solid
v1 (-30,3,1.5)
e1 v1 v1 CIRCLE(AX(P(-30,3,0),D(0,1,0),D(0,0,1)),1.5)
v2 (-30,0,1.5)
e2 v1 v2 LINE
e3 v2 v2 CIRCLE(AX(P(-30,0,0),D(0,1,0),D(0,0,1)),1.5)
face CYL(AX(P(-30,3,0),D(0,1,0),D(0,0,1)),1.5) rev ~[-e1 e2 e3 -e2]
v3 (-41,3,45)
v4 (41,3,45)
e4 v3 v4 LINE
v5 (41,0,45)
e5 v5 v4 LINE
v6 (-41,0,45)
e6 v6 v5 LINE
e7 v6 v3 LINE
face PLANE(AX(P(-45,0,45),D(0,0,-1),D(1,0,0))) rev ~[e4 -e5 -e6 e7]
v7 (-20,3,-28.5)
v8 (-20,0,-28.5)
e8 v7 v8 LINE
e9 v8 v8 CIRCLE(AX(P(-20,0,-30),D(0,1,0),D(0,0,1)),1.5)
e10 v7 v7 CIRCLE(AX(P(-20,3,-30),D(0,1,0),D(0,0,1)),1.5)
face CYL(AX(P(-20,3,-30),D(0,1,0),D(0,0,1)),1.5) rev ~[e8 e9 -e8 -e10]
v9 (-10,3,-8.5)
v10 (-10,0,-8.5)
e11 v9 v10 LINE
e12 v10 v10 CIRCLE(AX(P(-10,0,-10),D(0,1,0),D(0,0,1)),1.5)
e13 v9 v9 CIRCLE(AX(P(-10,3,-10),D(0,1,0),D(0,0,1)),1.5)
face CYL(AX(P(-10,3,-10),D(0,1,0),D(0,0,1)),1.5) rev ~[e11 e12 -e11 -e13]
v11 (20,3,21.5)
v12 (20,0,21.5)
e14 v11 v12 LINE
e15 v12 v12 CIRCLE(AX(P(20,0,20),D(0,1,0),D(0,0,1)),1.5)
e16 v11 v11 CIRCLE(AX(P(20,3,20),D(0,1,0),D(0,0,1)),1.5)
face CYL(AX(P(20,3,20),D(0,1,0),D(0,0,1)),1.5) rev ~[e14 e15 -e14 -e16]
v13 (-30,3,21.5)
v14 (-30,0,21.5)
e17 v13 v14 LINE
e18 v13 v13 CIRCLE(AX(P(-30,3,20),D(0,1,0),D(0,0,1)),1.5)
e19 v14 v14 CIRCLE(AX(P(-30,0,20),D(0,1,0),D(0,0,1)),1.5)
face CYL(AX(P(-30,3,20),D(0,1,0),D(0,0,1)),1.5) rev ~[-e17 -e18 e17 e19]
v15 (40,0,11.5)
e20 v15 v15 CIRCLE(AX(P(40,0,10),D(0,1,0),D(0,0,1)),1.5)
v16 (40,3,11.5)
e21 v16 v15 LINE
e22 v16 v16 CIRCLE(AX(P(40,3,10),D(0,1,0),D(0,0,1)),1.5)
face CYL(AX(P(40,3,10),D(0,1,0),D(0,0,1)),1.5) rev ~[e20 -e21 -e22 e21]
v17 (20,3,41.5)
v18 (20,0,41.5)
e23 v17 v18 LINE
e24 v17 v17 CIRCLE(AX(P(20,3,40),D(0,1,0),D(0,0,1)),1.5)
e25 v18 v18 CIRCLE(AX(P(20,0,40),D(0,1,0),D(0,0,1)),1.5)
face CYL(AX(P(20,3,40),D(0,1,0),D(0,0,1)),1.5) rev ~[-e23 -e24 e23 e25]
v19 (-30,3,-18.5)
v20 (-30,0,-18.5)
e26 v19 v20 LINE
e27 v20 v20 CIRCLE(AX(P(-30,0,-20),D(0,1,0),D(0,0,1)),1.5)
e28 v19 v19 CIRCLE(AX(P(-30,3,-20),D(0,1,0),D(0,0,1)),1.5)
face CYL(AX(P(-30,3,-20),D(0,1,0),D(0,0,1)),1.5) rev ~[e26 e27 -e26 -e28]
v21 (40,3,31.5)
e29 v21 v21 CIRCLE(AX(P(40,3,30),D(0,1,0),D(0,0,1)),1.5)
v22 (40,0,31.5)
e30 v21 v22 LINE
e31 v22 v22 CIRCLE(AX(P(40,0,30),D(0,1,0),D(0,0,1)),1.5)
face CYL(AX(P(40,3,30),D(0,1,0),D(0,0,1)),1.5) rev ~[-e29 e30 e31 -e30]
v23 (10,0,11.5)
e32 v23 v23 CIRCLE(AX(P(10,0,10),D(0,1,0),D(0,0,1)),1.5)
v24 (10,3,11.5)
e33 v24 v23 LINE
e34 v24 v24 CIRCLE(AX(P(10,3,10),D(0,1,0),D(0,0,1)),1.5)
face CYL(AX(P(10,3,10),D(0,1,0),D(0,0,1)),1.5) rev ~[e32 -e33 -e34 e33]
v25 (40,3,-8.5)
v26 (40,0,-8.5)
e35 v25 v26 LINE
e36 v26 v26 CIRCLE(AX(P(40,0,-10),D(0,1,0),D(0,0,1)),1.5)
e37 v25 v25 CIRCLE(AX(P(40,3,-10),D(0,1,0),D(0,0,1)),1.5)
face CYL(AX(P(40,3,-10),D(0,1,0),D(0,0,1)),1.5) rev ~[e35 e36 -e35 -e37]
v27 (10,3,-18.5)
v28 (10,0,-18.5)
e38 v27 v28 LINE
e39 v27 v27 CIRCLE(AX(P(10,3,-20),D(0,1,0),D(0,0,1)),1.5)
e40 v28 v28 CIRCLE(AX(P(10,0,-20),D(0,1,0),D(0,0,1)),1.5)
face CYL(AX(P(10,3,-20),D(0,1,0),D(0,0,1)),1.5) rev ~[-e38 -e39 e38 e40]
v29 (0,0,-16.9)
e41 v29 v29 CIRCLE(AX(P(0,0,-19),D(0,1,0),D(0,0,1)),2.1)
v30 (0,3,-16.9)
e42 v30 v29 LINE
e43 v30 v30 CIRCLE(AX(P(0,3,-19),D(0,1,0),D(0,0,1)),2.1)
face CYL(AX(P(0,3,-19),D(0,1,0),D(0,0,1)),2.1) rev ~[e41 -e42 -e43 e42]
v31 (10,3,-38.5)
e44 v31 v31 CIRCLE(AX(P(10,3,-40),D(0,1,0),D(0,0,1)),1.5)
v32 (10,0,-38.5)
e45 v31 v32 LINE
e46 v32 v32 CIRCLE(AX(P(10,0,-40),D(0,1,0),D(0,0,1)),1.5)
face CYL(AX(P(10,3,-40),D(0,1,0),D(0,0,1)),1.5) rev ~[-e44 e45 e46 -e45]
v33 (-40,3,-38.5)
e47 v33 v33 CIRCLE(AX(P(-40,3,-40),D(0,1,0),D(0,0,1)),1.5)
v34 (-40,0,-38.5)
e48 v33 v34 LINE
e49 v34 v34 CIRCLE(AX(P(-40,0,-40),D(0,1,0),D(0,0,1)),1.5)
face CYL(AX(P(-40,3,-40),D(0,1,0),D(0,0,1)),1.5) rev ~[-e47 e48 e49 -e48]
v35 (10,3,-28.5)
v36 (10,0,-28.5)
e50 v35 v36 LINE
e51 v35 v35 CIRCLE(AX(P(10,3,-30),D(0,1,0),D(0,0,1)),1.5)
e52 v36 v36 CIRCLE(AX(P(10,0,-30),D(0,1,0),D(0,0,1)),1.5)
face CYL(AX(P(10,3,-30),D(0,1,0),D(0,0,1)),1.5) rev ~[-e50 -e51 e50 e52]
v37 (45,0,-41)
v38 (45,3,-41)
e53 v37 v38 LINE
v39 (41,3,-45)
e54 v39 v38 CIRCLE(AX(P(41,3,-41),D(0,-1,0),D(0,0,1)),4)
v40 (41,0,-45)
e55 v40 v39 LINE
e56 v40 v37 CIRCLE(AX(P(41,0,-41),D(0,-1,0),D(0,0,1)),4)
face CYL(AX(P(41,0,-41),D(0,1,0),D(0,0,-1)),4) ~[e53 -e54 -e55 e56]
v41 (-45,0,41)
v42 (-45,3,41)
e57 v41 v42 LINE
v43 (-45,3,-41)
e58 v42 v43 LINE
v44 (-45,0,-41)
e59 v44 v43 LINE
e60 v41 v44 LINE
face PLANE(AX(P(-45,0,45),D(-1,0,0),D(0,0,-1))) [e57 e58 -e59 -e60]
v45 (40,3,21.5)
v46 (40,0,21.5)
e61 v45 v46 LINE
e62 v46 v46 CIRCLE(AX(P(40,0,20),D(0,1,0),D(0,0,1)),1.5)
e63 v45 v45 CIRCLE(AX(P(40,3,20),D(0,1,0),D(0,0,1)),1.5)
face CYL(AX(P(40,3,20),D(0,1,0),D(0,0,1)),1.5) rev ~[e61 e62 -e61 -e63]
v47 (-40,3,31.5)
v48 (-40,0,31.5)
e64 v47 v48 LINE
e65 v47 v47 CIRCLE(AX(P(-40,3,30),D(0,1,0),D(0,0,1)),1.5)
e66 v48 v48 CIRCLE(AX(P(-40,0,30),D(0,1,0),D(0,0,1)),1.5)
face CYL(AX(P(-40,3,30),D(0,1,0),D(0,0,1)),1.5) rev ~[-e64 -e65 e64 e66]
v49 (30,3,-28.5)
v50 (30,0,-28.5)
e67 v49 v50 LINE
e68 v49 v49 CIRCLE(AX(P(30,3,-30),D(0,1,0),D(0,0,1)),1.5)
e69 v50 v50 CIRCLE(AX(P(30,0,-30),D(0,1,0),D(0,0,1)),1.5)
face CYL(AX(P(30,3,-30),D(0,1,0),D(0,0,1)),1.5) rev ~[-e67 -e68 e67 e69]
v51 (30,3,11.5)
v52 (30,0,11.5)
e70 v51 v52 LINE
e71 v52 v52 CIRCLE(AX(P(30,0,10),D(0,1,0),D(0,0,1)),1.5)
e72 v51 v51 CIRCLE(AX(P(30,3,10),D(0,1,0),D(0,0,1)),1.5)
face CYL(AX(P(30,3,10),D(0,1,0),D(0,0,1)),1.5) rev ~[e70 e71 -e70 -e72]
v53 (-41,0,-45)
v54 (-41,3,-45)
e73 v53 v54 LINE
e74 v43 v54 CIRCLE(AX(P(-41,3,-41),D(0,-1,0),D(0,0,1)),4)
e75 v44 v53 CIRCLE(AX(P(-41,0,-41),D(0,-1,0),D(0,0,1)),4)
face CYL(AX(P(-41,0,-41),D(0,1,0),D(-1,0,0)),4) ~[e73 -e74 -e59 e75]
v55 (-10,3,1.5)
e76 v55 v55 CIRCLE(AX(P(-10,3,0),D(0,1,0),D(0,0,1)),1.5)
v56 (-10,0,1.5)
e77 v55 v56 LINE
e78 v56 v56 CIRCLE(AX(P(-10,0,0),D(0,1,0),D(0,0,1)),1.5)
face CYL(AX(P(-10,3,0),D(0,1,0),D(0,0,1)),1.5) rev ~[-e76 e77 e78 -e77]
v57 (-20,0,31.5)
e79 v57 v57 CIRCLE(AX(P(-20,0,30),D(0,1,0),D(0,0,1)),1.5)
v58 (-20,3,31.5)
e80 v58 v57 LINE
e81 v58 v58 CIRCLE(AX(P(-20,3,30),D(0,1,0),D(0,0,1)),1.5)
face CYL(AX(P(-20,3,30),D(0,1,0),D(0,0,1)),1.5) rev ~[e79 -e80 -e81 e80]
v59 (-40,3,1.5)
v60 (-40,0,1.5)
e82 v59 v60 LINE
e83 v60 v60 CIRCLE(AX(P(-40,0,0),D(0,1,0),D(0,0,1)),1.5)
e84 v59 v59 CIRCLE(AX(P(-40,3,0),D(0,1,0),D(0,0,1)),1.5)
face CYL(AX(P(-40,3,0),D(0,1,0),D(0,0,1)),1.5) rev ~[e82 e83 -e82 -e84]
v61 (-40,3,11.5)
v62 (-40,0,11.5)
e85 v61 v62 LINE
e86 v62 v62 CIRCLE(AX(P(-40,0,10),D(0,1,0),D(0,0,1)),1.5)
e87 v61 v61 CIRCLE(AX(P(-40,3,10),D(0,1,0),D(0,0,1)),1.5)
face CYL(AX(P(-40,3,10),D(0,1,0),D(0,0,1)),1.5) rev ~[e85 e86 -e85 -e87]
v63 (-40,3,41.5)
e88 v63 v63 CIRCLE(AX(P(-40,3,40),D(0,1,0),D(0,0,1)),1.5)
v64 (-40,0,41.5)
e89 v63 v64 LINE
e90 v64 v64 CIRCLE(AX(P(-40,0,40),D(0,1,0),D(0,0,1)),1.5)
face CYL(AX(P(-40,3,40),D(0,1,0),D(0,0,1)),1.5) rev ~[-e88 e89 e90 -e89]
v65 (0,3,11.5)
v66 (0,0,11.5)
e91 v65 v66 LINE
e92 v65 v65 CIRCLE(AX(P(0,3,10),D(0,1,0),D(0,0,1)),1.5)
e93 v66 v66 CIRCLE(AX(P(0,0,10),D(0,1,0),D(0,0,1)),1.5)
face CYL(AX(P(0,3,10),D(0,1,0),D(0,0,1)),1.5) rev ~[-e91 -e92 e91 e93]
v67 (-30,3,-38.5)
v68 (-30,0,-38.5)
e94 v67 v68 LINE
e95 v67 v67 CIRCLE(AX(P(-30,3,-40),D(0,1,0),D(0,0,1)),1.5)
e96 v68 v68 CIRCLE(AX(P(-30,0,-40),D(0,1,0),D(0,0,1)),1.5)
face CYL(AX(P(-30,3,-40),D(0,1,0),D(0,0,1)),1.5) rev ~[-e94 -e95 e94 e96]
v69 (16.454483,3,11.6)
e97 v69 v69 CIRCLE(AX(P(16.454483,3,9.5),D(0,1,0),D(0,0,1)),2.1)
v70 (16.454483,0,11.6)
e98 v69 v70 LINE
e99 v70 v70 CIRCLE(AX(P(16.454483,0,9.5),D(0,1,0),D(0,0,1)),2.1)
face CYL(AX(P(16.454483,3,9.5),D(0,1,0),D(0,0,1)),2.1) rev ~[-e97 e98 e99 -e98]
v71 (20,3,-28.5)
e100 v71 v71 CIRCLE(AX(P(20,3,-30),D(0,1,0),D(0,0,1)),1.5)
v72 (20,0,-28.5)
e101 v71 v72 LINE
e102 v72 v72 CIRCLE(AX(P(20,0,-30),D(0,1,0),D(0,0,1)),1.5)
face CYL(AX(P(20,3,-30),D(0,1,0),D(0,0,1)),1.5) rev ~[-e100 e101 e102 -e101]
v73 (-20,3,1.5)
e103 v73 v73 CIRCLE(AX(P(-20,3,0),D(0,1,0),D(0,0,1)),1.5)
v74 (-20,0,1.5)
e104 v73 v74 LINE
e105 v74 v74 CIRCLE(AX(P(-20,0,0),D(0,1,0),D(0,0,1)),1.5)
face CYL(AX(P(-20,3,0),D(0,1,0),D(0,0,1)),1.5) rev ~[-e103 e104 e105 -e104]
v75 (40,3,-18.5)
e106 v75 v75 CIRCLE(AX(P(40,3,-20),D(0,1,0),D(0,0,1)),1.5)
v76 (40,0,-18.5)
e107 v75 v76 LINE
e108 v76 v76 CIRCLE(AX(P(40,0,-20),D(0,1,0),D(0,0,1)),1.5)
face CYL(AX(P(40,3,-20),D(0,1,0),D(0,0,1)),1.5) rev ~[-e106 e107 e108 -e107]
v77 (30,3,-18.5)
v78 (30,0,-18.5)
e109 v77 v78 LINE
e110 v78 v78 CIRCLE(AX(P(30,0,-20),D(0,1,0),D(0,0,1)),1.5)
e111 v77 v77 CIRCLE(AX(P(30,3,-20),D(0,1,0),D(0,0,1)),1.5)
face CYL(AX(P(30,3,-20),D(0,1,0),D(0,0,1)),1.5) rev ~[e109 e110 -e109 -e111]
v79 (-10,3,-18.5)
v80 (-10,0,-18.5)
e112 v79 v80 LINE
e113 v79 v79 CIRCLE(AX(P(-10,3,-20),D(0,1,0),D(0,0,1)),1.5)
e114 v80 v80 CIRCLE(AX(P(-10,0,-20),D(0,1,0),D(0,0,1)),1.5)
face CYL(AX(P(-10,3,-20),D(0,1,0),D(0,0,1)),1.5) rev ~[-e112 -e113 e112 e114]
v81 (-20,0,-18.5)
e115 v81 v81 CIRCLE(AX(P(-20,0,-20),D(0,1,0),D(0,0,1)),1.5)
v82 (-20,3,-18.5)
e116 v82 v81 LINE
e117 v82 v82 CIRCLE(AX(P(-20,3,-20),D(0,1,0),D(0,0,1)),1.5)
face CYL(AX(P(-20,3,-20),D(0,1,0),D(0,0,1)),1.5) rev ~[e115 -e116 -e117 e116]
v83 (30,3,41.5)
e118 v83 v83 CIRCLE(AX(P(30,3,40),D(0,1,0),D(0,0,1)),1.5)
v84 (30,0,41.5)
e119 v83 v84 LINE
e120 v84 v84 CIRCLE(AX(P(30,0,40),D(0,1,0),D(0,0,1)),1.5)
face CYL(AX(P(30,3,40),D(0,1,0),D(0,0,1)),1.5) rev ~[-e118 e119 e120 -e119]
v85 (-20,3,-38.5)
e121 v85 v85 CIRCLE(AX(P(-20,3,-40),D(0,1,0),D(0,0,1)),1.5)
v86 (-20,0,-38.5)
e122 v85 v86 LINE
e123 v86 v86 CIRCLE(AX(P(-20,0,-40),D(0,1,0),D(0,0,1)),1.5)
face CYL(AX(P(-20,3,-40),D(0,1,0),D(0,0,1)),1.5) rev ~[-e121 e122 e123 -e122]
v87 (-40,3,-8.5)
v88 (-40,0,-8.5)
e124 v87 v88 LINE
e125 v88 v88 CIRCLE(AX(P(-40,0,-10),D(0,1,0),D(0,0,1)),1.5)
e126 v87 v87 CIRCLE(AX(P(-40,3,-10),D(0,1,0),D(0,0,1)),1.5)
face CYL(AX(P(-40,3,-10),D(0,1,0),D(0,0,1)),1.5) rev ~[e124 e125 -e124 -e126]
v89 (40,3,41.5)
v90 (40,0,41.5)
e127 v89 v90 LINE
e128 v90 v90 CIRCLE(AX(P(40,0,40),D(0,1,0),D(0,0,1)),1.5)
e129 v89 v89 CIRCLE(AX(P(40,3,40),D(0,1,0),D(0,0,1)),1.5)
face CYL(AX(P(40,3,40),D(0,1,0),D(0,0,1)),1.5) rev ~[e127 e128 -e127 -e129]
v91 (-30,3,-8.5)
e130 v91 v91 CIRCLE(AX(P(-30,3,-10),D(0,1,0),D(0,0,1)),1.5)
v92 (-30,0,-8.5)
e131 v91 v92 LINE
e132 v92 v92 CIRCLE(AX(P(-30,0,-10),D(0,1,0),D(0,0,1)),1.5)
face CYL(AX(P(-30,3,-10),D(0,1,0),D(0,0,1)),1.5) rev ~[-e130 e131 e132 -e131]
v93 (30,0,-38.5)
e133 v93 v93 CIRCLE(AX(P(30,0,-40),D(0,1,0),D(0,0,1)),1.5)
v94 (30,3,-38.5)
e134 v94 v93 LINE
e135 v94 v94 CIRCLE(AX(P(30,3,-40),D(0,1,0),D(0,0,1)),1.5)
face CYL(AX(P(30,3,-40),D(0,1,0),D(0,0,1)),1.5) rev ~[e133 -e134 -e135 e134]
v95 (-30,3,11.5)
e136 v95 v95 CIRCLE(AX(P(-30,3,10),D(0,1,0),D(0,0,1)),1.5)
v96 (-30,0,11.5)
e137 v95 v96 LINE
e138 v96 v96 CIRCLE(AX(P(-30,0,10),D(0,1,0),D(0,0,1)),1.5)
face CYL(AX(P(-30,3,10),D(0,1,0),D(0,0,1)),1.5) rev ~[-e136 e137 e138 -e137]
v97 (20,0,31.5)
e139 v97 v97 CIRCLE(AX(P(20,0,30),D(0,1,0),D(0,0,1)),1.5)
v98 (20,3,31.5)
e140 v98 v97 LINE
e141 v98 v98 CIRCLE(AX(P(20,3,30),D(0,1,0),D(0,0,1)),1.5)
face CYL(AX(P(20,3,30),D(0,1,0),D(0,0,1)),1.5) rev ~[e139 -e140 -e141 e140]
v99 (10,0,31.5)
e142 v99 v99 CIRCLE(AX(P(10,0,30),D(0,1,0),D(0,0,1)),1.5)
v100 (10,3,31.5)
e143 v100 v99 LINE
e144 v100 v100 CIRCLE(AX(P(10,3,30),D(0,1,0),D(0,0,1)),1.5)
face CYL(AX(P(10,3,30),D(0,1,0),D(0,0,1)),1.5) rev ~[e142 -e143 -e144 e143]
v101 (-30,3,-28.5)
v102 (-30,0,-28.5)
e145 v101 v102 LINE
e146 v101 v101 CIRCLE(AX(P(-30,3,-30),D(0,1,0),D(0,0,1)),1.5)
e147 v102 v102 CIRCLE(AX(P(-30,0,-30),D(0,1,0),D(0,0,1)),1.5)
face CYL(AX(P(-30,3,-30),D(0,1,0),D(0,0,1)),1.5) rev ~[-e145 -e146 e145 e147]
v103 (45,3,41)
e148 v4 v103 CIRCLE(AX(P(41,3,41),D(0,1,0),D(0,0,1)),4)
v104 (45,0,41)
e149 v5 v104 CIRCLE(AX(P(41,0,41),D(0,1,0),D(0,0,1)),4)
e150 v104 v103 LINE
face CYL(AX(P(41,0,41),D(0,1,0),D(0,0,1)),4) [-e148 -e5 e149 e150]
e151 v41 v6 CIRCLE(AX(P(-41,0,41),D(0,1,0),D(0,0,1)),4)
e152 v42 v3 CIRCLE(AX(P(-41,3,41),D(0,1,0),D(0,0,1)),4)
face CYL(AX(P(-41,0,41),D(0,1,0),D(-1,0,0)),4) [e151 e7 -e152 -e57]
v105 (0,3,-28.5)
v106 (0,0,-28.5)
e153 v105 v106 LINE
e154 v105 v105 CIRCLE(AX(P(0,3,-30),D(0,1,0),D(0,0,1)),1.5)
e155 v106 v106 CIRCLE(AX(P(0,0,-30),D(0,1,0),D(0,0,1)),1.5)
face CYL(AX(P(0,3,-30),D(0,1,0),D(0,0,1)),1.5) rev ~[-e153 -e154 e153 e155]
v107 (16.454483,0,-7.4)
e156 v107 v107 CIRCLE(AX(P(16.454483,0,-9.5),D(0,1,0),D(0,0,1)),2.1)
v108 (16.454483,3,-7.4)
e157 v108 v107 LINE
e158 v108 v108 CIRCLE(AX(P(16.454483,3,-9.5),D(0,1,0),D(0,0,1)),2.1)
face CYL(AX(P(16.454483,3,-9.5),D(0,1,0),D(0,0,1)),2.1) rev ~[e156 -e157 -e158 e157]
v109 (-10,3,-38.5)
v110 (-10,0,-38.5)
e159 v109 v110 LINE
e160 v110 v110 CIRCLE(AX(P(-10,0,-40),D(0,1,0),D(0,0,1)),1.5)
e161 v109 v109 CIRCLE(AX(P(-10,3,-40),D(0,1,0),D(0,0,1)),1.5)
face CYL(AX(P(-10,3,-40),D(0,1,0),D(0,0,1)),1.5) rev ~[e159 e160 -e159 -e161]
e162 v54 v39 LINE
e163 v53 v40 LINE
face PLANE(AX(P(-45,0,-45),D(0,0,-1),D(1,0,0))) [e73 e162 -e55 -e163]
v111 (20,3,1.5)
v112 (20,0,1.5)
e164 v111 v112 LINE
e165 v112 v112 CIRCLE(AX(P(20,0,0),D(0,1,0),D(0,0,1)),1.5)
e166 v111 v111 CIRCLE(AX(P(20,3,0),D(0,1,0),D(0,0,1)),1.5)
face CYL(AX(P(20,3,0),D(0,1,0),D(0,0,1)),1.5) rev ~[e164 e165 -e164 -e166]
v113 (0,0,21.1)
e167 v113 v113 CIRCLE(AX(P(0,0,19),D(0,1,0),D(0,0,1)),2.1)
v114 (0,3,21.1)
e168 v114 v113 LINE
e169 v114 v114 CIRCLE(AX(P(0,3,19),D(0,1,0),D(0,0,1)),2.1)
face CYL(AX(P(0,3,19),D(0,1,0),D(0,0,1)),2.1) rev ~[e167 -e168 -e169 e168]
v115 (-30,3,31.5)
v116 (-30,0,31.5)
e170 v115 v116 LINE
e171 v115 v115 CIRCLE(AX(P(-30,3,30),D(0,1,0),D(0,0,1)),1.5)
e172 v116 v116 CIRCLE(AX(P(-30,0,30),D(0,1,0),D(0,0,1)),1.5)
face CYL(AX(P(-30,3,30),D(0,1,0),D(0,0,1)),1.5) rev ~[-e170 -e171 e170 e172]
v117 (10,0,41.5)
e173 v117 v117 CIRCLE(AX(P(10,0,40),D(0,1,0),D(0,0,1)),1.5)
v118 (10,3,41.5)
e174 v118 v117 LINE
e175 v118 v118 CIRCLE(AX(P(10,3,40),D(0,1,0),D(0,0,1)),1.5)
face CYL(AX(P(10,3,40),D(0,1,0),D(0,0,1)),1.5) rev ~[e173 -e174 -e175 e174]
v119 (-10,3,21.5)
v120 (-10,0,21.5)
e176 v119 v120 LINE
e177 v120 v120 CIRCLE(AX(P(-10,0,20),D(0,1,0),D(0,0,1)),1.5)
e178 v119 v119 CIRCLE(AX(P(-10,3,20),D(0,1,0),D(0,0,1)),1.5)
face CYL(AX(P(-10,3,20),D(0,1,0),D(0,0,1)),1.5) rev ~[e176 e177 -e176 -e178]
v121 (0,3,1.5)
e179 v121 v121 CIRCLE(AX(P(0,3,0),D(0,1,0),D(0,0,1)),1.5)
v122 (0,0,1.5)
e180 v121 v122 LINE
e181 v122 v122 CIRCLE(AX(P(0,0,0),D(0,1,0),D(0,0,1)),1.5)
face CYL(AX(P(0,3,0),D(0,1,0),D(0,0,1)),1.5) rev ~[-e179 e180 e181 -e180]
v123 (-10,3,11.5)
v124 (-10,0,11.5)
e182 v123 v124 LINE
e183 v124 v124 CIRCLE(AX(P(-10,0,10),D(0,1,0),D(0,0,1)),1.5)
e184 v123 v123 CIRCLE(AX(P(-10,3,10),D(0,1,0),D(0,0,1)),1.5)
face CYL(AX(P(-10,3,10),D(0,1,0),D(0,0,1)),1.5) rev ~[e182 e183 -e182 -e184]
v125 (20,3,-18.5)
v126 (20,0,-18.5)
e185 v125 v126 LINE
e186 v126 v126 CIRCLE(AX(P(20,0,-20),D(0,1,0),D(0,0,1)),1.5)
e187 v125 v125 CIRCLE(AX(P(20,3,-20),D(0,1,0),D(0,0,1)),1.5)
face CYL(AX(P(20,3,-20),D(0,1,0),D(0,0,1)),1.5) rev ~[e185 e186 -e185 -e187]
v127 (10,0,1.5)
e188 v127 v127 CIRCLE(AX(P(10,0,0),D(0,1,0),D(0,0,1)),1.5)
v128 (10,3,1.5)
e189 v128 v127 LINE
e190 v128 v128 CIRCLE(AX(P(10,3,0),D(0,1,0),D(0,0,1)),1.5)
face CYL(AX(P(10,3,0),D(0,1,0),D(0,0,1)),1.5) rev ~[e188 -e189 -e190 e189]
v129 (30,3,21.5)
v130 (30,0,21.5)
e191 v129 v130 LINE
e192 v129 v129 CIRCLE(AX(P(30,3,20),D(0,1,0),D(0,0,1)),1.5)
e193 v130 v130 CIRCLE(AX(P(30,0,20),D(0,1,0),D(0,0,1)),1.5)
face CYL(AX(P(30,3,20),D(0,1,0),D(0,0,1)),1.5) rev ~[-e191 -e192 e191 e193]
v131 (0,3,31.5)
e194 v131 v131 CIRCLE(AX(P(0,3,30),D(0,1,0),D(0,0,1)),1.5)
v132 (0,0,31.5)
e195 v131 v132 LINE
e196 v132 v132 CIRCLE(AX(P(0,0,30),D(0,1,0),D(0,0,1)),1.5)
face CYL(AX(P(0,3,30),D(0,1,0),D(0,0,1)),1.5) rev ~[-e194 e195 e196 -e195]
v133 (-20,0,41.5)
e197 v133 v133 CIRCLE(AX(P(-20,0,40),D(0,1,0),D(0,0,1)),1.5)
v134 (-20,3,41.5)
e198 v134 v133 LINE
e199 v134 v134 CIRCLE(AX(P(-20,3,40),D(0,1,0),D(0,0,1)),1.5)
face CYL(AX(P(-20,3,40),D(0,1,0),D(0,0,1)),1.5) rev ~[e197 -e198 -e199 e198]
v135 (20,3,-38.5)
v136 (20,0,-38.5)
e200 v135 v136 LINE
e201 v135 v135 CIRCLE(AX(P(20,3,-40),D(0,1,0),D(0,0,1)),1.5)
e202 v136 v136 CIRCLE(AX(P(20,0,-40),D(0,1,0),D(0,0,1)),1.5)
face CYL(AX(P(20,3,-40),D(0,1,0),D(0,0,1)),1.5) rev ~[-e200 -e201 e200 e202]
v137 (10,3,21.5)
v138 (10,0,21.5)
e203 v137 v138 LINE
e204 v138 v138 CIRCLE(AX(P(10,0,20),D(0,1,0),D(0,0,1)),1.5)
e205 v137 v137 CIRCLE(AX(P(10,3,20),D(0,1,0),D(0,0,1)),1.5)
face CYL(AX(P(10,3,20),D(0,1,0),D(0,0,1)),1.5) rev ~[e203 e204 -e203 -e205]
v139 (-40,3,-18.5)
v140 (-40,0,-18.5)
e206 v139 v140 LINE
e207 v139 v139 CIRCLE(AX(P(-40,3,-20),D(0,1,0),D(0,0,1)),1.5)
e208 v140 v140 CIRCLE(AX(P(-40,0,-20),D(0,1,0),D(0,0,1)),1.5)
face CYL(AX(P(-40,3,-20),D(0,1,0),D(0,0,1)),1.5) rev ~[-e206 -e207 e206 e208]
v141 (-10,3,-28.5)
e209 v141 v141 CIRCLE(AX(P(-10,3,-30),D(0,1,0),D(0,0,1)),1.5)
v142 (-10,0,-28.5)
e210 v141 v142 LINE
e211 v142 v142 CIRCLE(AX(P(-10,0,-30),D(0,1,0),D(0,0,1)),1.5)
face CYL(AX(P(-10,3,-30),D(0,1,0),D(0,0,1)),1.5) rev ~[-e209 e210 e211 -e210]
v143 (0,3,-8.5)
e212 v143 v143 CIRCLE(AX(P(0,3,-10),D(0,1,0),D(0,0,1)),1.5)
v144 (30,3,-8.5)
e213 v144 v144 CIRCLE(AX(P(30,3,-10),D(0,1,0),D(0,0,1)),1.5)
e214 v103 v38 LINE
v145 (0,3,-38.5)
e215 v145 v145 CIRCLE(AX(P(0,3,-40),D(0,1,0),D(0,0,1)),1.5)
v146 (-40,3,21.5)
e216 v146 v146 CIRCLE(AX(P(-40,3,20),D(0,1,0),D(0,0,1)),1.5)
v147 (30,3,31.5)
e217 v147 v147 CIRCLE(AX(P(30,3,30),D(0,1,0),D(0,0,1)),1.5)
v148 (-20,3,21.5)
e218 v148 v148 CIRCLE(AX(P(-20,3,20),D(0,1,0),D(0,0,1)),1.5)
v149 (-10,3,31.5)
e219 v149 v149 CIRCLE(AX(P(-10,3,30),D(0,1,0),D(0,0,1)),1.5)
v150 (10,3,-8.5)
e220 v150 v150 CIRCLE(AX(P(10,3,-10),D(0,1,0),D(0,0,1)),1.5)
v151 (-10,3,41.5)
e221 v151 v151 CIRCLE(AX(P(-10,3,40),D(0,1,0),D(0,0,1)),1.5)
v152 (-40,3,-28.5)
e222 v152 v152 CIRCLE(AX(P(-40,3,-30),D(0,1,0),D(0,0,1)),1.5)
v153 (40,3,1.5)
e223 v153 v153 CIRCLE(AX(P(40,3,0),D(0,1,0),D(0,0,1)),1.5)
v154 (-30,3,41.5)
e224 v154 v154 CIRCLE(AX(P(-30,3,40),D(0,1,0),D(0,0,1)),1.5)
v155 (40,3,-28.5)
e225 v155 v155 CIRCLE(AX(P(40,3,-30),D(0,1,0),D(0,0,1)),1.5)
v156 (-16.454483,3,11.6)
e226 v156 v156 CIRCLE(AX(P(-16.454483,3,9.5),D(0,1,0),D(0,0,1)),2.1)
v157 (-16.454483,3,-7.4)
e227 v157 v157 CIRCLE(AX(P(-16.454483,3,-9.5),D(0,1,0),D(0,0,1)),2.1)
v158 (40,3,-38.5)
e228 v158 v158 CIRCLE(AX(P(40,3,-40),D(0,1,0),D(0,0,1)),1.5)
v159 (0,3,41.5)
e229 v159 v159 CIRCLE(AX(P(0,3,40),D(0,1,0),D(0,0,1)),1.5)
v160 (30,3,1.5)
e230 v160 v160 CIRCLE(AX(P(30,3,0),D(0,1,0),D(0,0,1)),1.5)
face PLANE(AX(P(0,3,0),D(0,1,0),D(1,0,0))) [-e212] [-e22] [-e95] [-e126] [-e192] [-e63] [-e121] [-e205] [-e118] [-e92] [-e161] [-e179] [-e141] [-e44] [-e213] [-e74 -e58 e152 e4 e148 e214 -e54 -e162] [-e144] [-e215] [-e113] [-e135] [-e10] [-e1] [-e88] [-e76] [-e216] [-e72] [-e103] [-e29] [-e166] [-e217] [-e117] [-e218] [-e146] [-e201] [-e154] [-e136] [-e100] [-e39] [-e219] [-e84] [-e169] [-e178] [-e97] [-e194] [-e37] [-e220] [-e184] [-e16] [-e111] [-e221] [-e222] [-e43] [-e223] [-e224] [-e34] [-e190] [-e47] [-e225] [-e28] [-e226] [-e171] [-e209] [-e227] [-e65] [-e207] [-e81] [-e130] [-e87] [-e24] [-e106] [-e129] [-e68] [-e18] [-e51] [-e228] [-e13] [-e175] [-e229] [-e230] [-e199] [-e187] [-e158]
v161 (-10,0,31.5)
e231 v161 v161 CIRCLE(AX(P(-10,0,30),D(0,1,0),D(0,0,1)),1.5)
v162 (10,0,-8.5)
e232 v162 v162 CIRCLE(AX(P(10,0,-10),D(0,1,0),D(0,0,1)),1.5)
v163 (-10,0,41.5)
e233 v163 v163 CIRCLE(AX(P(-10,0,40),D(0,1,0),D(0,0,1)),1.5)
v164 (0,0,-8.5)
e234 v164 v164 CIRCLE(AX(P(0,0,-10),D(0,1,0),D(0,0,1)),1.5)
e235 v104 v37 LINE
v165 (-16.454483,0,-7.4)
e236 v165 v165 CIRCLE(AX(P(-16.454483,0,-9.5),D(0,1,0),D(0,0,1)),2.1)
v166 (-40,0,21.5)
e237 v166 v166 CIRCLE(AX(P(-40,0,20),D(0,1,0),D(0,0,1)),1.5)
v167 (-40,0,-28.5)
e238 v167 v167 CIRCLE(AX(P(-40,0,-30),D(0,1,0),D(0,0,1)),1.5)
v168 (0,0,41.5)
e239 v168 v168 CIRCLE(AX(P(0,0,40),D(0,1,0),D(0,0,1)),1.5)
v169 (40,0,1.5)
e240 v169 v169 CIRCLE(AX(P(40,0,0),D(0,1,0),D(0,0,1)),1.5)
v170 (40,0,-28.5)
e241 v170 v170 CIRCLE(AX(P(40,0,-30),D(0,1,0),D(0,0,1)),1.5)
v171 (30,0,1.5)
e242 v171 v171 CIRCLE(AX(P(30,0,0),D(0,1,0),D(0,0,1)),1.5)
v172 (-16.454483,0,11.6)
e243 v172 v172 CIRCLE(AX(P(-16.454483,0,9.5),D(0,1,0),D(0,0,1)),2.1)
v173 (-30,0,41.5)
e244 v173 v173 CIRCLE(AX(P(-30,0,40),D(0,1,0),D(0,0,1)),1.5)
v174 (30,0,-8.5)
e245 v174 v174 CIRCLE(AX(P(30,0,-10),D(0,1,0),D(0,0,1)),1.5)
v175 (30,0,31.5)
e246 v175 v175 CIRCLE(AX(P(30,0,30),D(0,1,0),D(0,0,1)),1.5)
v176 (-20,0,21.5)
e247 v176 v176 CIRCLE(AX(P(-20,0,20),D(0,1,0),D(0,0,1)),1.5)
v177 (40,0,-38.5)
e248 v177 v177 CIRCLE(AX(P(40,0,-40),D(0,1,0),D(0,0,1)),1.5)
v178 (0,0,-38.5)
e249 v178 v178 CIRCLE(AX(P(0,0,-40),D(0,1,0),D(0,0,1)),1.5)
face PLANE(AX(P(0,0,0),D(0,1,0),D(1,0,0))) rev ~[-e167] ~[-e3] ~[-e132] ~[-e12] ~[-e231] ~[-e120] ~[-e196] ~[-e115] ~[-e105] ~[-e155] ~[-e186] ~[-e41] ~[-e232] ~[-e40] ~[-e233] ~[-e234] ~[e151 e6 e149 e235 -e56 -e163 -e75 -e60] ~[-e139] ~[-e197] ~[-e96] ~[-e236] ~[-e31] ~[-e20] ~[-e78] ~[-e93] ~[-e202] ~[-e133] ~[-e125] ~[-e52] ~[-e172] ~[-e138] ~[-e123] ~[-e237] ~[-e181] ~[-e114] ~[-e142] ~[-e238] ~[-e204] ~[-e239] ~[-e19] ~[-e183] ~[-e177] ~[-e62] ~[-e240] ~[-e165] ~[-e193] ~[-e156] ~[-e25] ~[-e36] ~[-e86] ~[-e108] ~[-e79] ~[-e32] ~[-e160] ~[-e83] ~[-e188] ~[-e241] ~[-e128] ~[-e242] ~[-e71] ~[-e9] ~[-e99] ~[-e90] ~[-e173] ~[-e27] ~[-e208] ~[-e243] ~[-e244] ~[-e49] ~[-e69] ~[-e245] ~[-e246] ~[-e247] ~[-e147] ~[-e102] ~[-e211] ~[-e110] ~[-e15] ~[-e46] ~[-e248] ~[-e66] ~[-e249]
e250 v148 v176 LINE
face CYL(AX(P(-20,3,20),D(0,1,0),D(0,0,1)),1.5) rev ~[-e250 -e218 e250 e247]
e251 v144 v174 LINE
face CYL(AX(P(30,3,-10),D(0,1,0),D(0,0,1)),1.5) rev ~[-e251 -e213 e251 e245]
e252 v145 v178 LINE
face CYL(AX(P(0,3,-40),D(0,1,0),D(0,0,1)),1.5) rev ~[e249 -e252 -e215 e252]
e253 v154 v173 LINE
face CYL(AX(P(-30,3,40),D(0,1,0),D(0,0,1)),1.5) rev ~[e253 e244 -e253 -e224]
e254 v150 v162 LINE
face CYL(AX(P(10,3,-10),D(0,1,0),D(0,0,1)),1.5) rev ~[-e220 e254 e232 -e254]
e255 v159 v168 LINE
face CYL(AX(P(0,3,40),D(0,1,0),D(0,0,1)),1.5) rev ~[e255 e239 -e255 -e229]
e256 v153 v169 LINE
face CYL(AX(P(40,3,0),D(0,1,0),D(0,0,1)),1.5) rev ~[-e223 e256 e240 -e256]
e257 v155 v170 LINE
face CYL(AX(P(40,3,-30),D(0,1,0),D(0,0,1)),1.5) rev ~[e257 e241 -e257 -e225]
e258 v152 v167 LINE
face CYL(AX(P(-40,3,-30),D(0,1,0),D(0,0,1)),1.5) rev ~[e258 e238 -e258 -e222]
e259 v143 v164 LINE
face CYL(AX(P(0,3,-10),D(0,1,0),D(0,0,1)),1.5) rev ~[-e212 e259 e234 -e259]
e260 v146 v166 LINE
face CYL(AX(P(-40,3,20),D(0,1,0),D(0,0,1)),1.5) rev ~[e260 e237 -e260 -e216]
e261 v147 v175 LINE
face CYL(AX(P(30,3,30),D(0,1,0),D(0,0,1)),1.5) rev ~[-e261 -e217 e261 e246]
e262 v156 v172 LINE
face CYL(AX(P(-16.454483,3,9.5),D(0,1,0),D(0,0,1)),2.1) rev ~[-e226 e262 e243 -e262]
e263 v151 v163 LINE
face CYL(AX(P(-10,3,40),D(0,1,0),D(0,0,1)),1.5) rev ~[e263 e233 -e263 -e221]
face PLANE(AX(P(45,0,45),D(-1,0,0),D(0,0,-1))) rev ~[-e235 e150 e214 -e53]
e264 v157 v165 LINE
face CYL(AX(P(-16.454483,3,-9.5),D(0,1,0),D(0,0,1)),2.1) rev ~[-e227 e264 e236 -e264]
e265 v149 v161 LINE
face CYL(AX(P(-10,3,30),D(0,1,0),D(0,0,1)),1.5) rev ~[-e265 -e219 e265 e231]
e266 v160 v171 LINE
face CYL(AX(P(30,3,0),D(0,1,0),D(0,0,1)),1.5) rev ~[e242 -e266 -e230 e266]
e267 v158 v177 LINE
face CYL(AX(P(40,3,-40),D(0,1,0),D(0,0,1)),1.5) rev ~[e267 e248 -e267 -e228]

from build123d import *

# Parameters (mm, degrees)
SKETCH_1_W          = 90
SKETCH_1_H          = 90
EXTRUDE_1_DEPTH     = 3
SKETCH_2_R          = 1.5
CUT_EXTRUDE_1_DEPTH = 64.710281745
SKETCH_3_R          = 1.5
CUT_EXTRUDE_2_DEPTH = 64.710281745
SKETCH_5_R          = 1.5
CUT_EXTRUDE_3_DEPTH = 64.710281745
FILLET_1_R          = 4
SKETCH_6_R          = 2.1
CUT_EXTRUDE_5_DEPTH = 64.710281745


with BuildPart() as part:
    # 草图1 → 凸台-拉伸1 (new body)
    with BuildSketch(Plane(origin=(0, 0, 0), x_dir=(1, 0, 0), z_dir=(0, 1, 0))):
        Rectangle(SKETCH_1_W, SKETCH_1_H)
    extrude(amount=EXTRUDE_1_DEPTH)

    # 草图2 → 切除-拉伸1 (cut, through all)
    with BuildSketch(Plane(origin=(0, 3, 0), x_dir=(1, 0, 0), z_dir=(0, 1, 0))):
        with Locations(Location((-40, 40, 0), (0, 0, 270))):
            Circle(SKETCH_2_R)
        with Locations(Location((40, 40, 0), (0, 0, 270))):
            Circle(SKETCH_2_R)
        with Locations(Location((40, -40, 0), (0, 0, 270))):
            Circle(SKETCH_2_R)
        with Locations(Location((-40, -40, 0), (0, 0, 270))):
            Circle(SKETCH_2_R)
    extrude(amount=-CUT_EXTRUDE_1_DEPTH, mode=Mode.SUBTRACT)

    # 草图3 → 切除-拉伸2 (cut, through all)
    with BuildSketch(Plane(origin=(0, 3, 0), x_dir=(1, 0, 0), z_dir=(0, 1, 0))):
        with Locations(Location((0, 0, 0), (0, 0, 270))):
            Circle(SKETCH_3_R)
        with Locations(Location((10, 0, 0), (0, 0, 270))):
            Circle(SKETCH_3_R)
        with Locations(Location((20, 0, 0), (0, 0, 270))):
            Circle(SKETCH_3_R)
        with Locations(Location((30, 0, 0), (0, 0, 270))):
            Circle(SKETCH_3_R)
        with Locations(Location((40, 0, 0), (0, 0, 270))):
            Circle(SKETCH_3_R)
        with Locations(Location((10, 10, 0), (0, 0, 270))):
            Circle(SKETCH_3_R)
        with Locations(Location((30, 10, 0), (0, 0, 270))):
            Circle(SKETCH_3_R)
        with Locations(Location((40, 10, 0), (0, 0, 270))):
            Circle(SKETCH_3_R)
        with Locations(Location((10, 20, 0), (0, 0, 270))):
            Circle(SKETCH_3_R)
        with Locations(Location((20, 20, 0), (0, 0, 270))):
            Circle(SKETCH_3_R)
        with Locations(Location((30, 20, 0), (0, 0, 270))):
            Circle(SKETCH_3_R)
        with Locations(Location((40, 20, 0), (0, 0, 270))):
            Circle(SKETCH_3_R)
        with Locations(Location((10, 30, 0), (0, 0, 270))):
            Circle(SKETCH_3_R)
        with Locations(Location((20, 30, 0), (0, 0, 270))):
            Circle(SKETCH_3_R)
        with Locations(Location((30, 30, 0), (0, 0, 270))):
            Circle(SKETCH_3_R)
        with Locations(Location((40, 30, 0), (0, 0, 270))):
            Circle(SKETCH_3_R)
        with Locations(Location((10, 40, 0), (0, 0, 270))):
            Circle(SKETCH_3_R)
        with Locations(Location((20, 40, 0), (0, 0, 270))):
            Circle(SKETCH_3_R)
        with Locations(Location((30, 40, 0), (0, 0, 270))):
            Circle(SKETCH_3_R)
        with Locations(Location((40, 40, 0), (0, 0, 270))):
            Circle(SKETCH_3_R)
        with Locations(Location((0, 10, 0), (0, 0, 270))):
            Circle(SKETCH_3_R)
        with Locations(Location((0, 30, 0), (0, 0, 270))):
            Circle(SKETCH_3_R)
        with Locations(Location((0, 40, 0), (0, 0, 270))):
            Circle(SKETCH_3_R)
        with Locations(Location((-10, 0, 0), (0, 0, 270))):
            Circle(SKETCH_3_R)
        with Locations(Location((-20, 0, 0), (0, 0, 270))):
            Circle(SKETCH_3_R)
        with Locations(Location((-30, 0, 0), (0, 0, 270))):
            Circle(SKETCH_3_R)
        with Locations(Location((-40, 0, 0), (0, 0, 270))):
            Circle(SKETCH_3_R)
        with Locations(Location((-10, -10, 0), (0, 0, 270))):
            Circle(SKETCH_3_R)
        with Locations(Location((-30, -10, 0), (0, 0, 270))):
            Circle(SKETCH_3_R)
        with Locations(Location((-40, -10, 0), (0, 0, 270))):
            Circle(SKETCH_3_R)
        with Locations(Location((-10, -20, 0), (0, 0, 270))):
            Circle(SKETCH_3_R)
        with Locations(Location((-20, -20, 0), (0, 0, 270))):
            Circle(SKETCH_3_R)
        with Locations(Location((-30, -20, 0), (0, 0, 270))):
            Circle(SKETCH_3_R)
        with Locations(Location((-40, -20, 0), (0, 0, 270))):
            Circle(SKETCH_3_R)
        with Locations(Location((-10, -30, 0), (0, 0, 270))):
            Circle(SKETCH_3_R)
        with Locations(Location((-20, -30, 0), (0, 0, 270))):
            Circle(SKETCH_3_R)
        with Locations(Location((-30, -30, 0), (0, 0, 270))):
            Circle(SKETCH_3_R)
        with Locations(Location((-40, -30, 0), (0, 0, 270))):
            Circle(SKETCH_3_R)
        with Locations(Location((-10, -40, 0), (0, 0, 270))):
            Circle(SKETCH_3_R)
        with Locations(Location((-20, -40, 0), (0, 0, 270))):
            Circle(SKETCH_3_R)
        with Locations(Location((-30, -40, 0), (0, 0, 270))):
            Circle(SKETCH_3_R)
        with Locations(Location((-40, -40, 0), (0, 0, 270))):
            Circle(SKETCH_3_R)
        with Locations(Location((0, -10, 0), (0, 0, 270))):
            Circle(SKETCH_3_R)
        with Locations(Location((0, -30, 0), (0, 0, 270))):
            Circle(SKETCH_3_R)
        with Locations(Location((0, -40, 0), (0, 0, 270))):
            Circle(SKETCH_3_R)
    extrude(amount=-CUT_EXTRUDE_2_DEPTH, mode=Mode.SUBTRACT)

    # 草图5 → 切除-拉伸3 (cut, through all)
    with BuildSketch(Plane(origin=(0, 3, 0), x_dir=(1, 0, 0), z_dir=(0, 1, 0))):
        with Locations(Location((0, 0, 0), (0, 0, 270))):
            Circle(SKETCH_5_R)
        with Locations(Location((-10, 0, 0), (0, 0, 270))):
            Circle(SKETCH_5_R)
        with Locations(Location((-20, 0, 0), (0, 0, 270))):
            Circle(SKETCH_5_R)
        with Locations(Location((-30, 0, 0), (0, 0, 270))):
            Circle(SKETCH_5_R)
        with Locations(Location((-40, 0, 0), (0, 0, 270))):
            Circle(SKETCH_5_R)
        with Locations(Location((-10, 10, 0), (0, 0, 270))):
            Circle(SKETCH_5_R)
        with Locations(Location((-30, 10, 0), (0, 0, 270))):
            Circle(SKETCH_5_R)
        with Locations(Location((-40, 10, 0), (0, 0, 270))):
            Circle(SKETCH_5_R)
        with Locations(Location((-10, 20, 0), (0, 0, 270))):
            Circle(SKETCH_5_R)
        with Locations(Location((-20, 20, 0), (0, 0, 270))):
            Circle(SKETCH_5_R)
        with Locations(Location((-30, 20, 0), (0, 0, 270))):
            Circle(SKETCH_5_R)
        with Locations(Location((-40, 20, 0), (0, 0, 270))):
            Circle(SKETCH_5_R)
        with Locations(Location((-10, 30, 0), (0, 0, 270))):
            Circle(SKETCH_5_R)
        with Locations(Location((-20, 30, 0), (0, 0, 270))):
            Circle(SKETCH_5_R)
        with Locations(Location((-30, 30, 0), (0, 0, 270))):
            Circle(SKETCH_5_R)
        with Locations(Location((-40, 30, 0), (0, 0, 270))):
            Circle(SKETCH_5_R)
        with Locations(Location((-10, 40, 0), (0, 0, 270))):
            Circle(SKETCH_5_R)
        with Locations(Location((-20, 40, 0), (0, 0, 270))):
            Circle(SKETCH_5_R)
        with Locations(Location((-30, 40, 0), (0, 0, 270))):
            Circle(SKETCH_5_R)
        with Locations(Location((-40, 40, 0), (0, 0, 270))):
            Circle(SKETCH_5_R)
        with Locations(Location((0, 10, 0), (0, 0, 270))):
            Circle(SKETCH_5_R)
        with Locations(Location((0, 30, 0), (0, 0, 270))):
            Circle(SKETCH_5_R)
        with Locations(Location((0, 40, 0), (0, 0, 270))):
            Circle(SKETCH_5_R)
        with Locations(Location((10, 0, 0), (0, 0, 270))):
            Circle(SKETCH_5_R)
        with Locations(Location((20, 0, 0), (0, 0, 270))):
            Circle(SKETCH_5_R)
        with Locations(Location((30, 0, 0), (0, 0, 270))):
            Circle(SKETCH_5_R)
        with Locations(Location((40, 0, 0), (0, 0, 270))):
            Circle(SKETCH_5_R)
        with Locations(Location((10, -10, 0), (0, 0, 270))):
            Circle(SKETCH_5_R)
        with Locations(Location((30, -10, 0), (0, 0, 270))):
            Circle(SKETCH_5_R)
        with Locations(Location((40, -10, 0), (0, 0, 270))):
            Circle(SKETCH_5_R)
        with Locations(Location((10, -20, 0), (0, 0, 270))):
            Circle(SKETCH_5_R)
        with Locations(Location((20, -20, 0), (0, 0, 270))):
            Circle(SKETCH_5_R)
        with Locations(Location((30, -20, 0), (0, 0, 270))):
            Circle(SKETCH_5_R)
        with Locations(Location((40, -20, 0), (0, 0, 270))):
            Circle(SKETCH_5_R)
        with Locations(Location((10, -30, 0), (0, 0, 270))):
            Circle(SKETCH_5_R)
        with Locations(Location((20, -30, 0), (0, 0, 270))):
            Circle(SKETCH_5_R)
        with Locations(Location((30, -30, 0), (0, 0, 270))):
            Circle(SKETCH_5_R)
        with Locations(Location((40, -30, 0), (0, 0, 270))):
            Circle(SKETCH_5_R)
        with Locations(Location((10, -40, 0), (0, 0, 270))):
            Circle(SKETCH_5_R)
        with Locations(Location((20, -40, 0), (0, 0, 270))):
            Circle(SKETCH_5_R)
        with Locations(Location((30, -40, 0), (0, 0, 270))):
            Circle(SKETCH_5_R)
        with Locations(Location((40, -40, 0), (0, 0, 270))):
            Circle(SKETCH_5_R)
        with Locations(Location((0, -10, 0), (0, 0, 270))):
            Circle(SKETCH_5_R)
        with Locations(Location((0, -30, 0), (0, 0, 270))):
            Circle(SKETCH_5_R)
        with Locations(Location((0, -40, 0), (0, 0, 270))):
            Circle(SKETCH_5_R)
    extrude(amount=-CUT_EXTRUDE_3_DEPTH, mode=Mode.SUBTRACT)

    # 圆角1
    fillet_1_edges = [part.edges().sort_by_distance(p)[0] for p in [
        (45, 1.5, 45),
        (-45, 1.5, 45),
        (-45, 1.5, -45),
        (45, 1.5, -45),
    ]]
    fillet(fillet_1_edges, radius=FILLET_1_R)

    # 草图6 → 切除-拉伸5 (cut, through all)
    with BuildSketch(Plane(origin=(0, 3, 0), x_dir=(1, 0, 0), z_dir=(0, 1, 0))):
        with Locations(Location((0, 19, 0), (0, 0, 270))):
            Circle(SKETCH_6_R)
        with Locations(Location((16.454482672, 9.5, 0), (0, 0, 270))):
            Circle(SKETCH_6_R)
        with Locations(Location((16.454482672, -9.5, 0), (0, 0, 270))):
            Circle(SKETCH_6_R)
        with Locations(Location((0, -19, 0), (0, 0, 270))):
            Circle(SKETCH_6_R)
        with Locations(Location((-16.454482672, -9.5, 0), (0, 0, 270))):
            Circle(SKETCH_6_R)
        with Locations(Location((-16.454482672, 9.5, 0), (0, 0, 270))):
            Circle(SKETCH_6_R)
    extrude(amount=-CUT_EXTRUDE_5_DEPTH, mode=Mode.SUBTRACT)


solid = part.part
